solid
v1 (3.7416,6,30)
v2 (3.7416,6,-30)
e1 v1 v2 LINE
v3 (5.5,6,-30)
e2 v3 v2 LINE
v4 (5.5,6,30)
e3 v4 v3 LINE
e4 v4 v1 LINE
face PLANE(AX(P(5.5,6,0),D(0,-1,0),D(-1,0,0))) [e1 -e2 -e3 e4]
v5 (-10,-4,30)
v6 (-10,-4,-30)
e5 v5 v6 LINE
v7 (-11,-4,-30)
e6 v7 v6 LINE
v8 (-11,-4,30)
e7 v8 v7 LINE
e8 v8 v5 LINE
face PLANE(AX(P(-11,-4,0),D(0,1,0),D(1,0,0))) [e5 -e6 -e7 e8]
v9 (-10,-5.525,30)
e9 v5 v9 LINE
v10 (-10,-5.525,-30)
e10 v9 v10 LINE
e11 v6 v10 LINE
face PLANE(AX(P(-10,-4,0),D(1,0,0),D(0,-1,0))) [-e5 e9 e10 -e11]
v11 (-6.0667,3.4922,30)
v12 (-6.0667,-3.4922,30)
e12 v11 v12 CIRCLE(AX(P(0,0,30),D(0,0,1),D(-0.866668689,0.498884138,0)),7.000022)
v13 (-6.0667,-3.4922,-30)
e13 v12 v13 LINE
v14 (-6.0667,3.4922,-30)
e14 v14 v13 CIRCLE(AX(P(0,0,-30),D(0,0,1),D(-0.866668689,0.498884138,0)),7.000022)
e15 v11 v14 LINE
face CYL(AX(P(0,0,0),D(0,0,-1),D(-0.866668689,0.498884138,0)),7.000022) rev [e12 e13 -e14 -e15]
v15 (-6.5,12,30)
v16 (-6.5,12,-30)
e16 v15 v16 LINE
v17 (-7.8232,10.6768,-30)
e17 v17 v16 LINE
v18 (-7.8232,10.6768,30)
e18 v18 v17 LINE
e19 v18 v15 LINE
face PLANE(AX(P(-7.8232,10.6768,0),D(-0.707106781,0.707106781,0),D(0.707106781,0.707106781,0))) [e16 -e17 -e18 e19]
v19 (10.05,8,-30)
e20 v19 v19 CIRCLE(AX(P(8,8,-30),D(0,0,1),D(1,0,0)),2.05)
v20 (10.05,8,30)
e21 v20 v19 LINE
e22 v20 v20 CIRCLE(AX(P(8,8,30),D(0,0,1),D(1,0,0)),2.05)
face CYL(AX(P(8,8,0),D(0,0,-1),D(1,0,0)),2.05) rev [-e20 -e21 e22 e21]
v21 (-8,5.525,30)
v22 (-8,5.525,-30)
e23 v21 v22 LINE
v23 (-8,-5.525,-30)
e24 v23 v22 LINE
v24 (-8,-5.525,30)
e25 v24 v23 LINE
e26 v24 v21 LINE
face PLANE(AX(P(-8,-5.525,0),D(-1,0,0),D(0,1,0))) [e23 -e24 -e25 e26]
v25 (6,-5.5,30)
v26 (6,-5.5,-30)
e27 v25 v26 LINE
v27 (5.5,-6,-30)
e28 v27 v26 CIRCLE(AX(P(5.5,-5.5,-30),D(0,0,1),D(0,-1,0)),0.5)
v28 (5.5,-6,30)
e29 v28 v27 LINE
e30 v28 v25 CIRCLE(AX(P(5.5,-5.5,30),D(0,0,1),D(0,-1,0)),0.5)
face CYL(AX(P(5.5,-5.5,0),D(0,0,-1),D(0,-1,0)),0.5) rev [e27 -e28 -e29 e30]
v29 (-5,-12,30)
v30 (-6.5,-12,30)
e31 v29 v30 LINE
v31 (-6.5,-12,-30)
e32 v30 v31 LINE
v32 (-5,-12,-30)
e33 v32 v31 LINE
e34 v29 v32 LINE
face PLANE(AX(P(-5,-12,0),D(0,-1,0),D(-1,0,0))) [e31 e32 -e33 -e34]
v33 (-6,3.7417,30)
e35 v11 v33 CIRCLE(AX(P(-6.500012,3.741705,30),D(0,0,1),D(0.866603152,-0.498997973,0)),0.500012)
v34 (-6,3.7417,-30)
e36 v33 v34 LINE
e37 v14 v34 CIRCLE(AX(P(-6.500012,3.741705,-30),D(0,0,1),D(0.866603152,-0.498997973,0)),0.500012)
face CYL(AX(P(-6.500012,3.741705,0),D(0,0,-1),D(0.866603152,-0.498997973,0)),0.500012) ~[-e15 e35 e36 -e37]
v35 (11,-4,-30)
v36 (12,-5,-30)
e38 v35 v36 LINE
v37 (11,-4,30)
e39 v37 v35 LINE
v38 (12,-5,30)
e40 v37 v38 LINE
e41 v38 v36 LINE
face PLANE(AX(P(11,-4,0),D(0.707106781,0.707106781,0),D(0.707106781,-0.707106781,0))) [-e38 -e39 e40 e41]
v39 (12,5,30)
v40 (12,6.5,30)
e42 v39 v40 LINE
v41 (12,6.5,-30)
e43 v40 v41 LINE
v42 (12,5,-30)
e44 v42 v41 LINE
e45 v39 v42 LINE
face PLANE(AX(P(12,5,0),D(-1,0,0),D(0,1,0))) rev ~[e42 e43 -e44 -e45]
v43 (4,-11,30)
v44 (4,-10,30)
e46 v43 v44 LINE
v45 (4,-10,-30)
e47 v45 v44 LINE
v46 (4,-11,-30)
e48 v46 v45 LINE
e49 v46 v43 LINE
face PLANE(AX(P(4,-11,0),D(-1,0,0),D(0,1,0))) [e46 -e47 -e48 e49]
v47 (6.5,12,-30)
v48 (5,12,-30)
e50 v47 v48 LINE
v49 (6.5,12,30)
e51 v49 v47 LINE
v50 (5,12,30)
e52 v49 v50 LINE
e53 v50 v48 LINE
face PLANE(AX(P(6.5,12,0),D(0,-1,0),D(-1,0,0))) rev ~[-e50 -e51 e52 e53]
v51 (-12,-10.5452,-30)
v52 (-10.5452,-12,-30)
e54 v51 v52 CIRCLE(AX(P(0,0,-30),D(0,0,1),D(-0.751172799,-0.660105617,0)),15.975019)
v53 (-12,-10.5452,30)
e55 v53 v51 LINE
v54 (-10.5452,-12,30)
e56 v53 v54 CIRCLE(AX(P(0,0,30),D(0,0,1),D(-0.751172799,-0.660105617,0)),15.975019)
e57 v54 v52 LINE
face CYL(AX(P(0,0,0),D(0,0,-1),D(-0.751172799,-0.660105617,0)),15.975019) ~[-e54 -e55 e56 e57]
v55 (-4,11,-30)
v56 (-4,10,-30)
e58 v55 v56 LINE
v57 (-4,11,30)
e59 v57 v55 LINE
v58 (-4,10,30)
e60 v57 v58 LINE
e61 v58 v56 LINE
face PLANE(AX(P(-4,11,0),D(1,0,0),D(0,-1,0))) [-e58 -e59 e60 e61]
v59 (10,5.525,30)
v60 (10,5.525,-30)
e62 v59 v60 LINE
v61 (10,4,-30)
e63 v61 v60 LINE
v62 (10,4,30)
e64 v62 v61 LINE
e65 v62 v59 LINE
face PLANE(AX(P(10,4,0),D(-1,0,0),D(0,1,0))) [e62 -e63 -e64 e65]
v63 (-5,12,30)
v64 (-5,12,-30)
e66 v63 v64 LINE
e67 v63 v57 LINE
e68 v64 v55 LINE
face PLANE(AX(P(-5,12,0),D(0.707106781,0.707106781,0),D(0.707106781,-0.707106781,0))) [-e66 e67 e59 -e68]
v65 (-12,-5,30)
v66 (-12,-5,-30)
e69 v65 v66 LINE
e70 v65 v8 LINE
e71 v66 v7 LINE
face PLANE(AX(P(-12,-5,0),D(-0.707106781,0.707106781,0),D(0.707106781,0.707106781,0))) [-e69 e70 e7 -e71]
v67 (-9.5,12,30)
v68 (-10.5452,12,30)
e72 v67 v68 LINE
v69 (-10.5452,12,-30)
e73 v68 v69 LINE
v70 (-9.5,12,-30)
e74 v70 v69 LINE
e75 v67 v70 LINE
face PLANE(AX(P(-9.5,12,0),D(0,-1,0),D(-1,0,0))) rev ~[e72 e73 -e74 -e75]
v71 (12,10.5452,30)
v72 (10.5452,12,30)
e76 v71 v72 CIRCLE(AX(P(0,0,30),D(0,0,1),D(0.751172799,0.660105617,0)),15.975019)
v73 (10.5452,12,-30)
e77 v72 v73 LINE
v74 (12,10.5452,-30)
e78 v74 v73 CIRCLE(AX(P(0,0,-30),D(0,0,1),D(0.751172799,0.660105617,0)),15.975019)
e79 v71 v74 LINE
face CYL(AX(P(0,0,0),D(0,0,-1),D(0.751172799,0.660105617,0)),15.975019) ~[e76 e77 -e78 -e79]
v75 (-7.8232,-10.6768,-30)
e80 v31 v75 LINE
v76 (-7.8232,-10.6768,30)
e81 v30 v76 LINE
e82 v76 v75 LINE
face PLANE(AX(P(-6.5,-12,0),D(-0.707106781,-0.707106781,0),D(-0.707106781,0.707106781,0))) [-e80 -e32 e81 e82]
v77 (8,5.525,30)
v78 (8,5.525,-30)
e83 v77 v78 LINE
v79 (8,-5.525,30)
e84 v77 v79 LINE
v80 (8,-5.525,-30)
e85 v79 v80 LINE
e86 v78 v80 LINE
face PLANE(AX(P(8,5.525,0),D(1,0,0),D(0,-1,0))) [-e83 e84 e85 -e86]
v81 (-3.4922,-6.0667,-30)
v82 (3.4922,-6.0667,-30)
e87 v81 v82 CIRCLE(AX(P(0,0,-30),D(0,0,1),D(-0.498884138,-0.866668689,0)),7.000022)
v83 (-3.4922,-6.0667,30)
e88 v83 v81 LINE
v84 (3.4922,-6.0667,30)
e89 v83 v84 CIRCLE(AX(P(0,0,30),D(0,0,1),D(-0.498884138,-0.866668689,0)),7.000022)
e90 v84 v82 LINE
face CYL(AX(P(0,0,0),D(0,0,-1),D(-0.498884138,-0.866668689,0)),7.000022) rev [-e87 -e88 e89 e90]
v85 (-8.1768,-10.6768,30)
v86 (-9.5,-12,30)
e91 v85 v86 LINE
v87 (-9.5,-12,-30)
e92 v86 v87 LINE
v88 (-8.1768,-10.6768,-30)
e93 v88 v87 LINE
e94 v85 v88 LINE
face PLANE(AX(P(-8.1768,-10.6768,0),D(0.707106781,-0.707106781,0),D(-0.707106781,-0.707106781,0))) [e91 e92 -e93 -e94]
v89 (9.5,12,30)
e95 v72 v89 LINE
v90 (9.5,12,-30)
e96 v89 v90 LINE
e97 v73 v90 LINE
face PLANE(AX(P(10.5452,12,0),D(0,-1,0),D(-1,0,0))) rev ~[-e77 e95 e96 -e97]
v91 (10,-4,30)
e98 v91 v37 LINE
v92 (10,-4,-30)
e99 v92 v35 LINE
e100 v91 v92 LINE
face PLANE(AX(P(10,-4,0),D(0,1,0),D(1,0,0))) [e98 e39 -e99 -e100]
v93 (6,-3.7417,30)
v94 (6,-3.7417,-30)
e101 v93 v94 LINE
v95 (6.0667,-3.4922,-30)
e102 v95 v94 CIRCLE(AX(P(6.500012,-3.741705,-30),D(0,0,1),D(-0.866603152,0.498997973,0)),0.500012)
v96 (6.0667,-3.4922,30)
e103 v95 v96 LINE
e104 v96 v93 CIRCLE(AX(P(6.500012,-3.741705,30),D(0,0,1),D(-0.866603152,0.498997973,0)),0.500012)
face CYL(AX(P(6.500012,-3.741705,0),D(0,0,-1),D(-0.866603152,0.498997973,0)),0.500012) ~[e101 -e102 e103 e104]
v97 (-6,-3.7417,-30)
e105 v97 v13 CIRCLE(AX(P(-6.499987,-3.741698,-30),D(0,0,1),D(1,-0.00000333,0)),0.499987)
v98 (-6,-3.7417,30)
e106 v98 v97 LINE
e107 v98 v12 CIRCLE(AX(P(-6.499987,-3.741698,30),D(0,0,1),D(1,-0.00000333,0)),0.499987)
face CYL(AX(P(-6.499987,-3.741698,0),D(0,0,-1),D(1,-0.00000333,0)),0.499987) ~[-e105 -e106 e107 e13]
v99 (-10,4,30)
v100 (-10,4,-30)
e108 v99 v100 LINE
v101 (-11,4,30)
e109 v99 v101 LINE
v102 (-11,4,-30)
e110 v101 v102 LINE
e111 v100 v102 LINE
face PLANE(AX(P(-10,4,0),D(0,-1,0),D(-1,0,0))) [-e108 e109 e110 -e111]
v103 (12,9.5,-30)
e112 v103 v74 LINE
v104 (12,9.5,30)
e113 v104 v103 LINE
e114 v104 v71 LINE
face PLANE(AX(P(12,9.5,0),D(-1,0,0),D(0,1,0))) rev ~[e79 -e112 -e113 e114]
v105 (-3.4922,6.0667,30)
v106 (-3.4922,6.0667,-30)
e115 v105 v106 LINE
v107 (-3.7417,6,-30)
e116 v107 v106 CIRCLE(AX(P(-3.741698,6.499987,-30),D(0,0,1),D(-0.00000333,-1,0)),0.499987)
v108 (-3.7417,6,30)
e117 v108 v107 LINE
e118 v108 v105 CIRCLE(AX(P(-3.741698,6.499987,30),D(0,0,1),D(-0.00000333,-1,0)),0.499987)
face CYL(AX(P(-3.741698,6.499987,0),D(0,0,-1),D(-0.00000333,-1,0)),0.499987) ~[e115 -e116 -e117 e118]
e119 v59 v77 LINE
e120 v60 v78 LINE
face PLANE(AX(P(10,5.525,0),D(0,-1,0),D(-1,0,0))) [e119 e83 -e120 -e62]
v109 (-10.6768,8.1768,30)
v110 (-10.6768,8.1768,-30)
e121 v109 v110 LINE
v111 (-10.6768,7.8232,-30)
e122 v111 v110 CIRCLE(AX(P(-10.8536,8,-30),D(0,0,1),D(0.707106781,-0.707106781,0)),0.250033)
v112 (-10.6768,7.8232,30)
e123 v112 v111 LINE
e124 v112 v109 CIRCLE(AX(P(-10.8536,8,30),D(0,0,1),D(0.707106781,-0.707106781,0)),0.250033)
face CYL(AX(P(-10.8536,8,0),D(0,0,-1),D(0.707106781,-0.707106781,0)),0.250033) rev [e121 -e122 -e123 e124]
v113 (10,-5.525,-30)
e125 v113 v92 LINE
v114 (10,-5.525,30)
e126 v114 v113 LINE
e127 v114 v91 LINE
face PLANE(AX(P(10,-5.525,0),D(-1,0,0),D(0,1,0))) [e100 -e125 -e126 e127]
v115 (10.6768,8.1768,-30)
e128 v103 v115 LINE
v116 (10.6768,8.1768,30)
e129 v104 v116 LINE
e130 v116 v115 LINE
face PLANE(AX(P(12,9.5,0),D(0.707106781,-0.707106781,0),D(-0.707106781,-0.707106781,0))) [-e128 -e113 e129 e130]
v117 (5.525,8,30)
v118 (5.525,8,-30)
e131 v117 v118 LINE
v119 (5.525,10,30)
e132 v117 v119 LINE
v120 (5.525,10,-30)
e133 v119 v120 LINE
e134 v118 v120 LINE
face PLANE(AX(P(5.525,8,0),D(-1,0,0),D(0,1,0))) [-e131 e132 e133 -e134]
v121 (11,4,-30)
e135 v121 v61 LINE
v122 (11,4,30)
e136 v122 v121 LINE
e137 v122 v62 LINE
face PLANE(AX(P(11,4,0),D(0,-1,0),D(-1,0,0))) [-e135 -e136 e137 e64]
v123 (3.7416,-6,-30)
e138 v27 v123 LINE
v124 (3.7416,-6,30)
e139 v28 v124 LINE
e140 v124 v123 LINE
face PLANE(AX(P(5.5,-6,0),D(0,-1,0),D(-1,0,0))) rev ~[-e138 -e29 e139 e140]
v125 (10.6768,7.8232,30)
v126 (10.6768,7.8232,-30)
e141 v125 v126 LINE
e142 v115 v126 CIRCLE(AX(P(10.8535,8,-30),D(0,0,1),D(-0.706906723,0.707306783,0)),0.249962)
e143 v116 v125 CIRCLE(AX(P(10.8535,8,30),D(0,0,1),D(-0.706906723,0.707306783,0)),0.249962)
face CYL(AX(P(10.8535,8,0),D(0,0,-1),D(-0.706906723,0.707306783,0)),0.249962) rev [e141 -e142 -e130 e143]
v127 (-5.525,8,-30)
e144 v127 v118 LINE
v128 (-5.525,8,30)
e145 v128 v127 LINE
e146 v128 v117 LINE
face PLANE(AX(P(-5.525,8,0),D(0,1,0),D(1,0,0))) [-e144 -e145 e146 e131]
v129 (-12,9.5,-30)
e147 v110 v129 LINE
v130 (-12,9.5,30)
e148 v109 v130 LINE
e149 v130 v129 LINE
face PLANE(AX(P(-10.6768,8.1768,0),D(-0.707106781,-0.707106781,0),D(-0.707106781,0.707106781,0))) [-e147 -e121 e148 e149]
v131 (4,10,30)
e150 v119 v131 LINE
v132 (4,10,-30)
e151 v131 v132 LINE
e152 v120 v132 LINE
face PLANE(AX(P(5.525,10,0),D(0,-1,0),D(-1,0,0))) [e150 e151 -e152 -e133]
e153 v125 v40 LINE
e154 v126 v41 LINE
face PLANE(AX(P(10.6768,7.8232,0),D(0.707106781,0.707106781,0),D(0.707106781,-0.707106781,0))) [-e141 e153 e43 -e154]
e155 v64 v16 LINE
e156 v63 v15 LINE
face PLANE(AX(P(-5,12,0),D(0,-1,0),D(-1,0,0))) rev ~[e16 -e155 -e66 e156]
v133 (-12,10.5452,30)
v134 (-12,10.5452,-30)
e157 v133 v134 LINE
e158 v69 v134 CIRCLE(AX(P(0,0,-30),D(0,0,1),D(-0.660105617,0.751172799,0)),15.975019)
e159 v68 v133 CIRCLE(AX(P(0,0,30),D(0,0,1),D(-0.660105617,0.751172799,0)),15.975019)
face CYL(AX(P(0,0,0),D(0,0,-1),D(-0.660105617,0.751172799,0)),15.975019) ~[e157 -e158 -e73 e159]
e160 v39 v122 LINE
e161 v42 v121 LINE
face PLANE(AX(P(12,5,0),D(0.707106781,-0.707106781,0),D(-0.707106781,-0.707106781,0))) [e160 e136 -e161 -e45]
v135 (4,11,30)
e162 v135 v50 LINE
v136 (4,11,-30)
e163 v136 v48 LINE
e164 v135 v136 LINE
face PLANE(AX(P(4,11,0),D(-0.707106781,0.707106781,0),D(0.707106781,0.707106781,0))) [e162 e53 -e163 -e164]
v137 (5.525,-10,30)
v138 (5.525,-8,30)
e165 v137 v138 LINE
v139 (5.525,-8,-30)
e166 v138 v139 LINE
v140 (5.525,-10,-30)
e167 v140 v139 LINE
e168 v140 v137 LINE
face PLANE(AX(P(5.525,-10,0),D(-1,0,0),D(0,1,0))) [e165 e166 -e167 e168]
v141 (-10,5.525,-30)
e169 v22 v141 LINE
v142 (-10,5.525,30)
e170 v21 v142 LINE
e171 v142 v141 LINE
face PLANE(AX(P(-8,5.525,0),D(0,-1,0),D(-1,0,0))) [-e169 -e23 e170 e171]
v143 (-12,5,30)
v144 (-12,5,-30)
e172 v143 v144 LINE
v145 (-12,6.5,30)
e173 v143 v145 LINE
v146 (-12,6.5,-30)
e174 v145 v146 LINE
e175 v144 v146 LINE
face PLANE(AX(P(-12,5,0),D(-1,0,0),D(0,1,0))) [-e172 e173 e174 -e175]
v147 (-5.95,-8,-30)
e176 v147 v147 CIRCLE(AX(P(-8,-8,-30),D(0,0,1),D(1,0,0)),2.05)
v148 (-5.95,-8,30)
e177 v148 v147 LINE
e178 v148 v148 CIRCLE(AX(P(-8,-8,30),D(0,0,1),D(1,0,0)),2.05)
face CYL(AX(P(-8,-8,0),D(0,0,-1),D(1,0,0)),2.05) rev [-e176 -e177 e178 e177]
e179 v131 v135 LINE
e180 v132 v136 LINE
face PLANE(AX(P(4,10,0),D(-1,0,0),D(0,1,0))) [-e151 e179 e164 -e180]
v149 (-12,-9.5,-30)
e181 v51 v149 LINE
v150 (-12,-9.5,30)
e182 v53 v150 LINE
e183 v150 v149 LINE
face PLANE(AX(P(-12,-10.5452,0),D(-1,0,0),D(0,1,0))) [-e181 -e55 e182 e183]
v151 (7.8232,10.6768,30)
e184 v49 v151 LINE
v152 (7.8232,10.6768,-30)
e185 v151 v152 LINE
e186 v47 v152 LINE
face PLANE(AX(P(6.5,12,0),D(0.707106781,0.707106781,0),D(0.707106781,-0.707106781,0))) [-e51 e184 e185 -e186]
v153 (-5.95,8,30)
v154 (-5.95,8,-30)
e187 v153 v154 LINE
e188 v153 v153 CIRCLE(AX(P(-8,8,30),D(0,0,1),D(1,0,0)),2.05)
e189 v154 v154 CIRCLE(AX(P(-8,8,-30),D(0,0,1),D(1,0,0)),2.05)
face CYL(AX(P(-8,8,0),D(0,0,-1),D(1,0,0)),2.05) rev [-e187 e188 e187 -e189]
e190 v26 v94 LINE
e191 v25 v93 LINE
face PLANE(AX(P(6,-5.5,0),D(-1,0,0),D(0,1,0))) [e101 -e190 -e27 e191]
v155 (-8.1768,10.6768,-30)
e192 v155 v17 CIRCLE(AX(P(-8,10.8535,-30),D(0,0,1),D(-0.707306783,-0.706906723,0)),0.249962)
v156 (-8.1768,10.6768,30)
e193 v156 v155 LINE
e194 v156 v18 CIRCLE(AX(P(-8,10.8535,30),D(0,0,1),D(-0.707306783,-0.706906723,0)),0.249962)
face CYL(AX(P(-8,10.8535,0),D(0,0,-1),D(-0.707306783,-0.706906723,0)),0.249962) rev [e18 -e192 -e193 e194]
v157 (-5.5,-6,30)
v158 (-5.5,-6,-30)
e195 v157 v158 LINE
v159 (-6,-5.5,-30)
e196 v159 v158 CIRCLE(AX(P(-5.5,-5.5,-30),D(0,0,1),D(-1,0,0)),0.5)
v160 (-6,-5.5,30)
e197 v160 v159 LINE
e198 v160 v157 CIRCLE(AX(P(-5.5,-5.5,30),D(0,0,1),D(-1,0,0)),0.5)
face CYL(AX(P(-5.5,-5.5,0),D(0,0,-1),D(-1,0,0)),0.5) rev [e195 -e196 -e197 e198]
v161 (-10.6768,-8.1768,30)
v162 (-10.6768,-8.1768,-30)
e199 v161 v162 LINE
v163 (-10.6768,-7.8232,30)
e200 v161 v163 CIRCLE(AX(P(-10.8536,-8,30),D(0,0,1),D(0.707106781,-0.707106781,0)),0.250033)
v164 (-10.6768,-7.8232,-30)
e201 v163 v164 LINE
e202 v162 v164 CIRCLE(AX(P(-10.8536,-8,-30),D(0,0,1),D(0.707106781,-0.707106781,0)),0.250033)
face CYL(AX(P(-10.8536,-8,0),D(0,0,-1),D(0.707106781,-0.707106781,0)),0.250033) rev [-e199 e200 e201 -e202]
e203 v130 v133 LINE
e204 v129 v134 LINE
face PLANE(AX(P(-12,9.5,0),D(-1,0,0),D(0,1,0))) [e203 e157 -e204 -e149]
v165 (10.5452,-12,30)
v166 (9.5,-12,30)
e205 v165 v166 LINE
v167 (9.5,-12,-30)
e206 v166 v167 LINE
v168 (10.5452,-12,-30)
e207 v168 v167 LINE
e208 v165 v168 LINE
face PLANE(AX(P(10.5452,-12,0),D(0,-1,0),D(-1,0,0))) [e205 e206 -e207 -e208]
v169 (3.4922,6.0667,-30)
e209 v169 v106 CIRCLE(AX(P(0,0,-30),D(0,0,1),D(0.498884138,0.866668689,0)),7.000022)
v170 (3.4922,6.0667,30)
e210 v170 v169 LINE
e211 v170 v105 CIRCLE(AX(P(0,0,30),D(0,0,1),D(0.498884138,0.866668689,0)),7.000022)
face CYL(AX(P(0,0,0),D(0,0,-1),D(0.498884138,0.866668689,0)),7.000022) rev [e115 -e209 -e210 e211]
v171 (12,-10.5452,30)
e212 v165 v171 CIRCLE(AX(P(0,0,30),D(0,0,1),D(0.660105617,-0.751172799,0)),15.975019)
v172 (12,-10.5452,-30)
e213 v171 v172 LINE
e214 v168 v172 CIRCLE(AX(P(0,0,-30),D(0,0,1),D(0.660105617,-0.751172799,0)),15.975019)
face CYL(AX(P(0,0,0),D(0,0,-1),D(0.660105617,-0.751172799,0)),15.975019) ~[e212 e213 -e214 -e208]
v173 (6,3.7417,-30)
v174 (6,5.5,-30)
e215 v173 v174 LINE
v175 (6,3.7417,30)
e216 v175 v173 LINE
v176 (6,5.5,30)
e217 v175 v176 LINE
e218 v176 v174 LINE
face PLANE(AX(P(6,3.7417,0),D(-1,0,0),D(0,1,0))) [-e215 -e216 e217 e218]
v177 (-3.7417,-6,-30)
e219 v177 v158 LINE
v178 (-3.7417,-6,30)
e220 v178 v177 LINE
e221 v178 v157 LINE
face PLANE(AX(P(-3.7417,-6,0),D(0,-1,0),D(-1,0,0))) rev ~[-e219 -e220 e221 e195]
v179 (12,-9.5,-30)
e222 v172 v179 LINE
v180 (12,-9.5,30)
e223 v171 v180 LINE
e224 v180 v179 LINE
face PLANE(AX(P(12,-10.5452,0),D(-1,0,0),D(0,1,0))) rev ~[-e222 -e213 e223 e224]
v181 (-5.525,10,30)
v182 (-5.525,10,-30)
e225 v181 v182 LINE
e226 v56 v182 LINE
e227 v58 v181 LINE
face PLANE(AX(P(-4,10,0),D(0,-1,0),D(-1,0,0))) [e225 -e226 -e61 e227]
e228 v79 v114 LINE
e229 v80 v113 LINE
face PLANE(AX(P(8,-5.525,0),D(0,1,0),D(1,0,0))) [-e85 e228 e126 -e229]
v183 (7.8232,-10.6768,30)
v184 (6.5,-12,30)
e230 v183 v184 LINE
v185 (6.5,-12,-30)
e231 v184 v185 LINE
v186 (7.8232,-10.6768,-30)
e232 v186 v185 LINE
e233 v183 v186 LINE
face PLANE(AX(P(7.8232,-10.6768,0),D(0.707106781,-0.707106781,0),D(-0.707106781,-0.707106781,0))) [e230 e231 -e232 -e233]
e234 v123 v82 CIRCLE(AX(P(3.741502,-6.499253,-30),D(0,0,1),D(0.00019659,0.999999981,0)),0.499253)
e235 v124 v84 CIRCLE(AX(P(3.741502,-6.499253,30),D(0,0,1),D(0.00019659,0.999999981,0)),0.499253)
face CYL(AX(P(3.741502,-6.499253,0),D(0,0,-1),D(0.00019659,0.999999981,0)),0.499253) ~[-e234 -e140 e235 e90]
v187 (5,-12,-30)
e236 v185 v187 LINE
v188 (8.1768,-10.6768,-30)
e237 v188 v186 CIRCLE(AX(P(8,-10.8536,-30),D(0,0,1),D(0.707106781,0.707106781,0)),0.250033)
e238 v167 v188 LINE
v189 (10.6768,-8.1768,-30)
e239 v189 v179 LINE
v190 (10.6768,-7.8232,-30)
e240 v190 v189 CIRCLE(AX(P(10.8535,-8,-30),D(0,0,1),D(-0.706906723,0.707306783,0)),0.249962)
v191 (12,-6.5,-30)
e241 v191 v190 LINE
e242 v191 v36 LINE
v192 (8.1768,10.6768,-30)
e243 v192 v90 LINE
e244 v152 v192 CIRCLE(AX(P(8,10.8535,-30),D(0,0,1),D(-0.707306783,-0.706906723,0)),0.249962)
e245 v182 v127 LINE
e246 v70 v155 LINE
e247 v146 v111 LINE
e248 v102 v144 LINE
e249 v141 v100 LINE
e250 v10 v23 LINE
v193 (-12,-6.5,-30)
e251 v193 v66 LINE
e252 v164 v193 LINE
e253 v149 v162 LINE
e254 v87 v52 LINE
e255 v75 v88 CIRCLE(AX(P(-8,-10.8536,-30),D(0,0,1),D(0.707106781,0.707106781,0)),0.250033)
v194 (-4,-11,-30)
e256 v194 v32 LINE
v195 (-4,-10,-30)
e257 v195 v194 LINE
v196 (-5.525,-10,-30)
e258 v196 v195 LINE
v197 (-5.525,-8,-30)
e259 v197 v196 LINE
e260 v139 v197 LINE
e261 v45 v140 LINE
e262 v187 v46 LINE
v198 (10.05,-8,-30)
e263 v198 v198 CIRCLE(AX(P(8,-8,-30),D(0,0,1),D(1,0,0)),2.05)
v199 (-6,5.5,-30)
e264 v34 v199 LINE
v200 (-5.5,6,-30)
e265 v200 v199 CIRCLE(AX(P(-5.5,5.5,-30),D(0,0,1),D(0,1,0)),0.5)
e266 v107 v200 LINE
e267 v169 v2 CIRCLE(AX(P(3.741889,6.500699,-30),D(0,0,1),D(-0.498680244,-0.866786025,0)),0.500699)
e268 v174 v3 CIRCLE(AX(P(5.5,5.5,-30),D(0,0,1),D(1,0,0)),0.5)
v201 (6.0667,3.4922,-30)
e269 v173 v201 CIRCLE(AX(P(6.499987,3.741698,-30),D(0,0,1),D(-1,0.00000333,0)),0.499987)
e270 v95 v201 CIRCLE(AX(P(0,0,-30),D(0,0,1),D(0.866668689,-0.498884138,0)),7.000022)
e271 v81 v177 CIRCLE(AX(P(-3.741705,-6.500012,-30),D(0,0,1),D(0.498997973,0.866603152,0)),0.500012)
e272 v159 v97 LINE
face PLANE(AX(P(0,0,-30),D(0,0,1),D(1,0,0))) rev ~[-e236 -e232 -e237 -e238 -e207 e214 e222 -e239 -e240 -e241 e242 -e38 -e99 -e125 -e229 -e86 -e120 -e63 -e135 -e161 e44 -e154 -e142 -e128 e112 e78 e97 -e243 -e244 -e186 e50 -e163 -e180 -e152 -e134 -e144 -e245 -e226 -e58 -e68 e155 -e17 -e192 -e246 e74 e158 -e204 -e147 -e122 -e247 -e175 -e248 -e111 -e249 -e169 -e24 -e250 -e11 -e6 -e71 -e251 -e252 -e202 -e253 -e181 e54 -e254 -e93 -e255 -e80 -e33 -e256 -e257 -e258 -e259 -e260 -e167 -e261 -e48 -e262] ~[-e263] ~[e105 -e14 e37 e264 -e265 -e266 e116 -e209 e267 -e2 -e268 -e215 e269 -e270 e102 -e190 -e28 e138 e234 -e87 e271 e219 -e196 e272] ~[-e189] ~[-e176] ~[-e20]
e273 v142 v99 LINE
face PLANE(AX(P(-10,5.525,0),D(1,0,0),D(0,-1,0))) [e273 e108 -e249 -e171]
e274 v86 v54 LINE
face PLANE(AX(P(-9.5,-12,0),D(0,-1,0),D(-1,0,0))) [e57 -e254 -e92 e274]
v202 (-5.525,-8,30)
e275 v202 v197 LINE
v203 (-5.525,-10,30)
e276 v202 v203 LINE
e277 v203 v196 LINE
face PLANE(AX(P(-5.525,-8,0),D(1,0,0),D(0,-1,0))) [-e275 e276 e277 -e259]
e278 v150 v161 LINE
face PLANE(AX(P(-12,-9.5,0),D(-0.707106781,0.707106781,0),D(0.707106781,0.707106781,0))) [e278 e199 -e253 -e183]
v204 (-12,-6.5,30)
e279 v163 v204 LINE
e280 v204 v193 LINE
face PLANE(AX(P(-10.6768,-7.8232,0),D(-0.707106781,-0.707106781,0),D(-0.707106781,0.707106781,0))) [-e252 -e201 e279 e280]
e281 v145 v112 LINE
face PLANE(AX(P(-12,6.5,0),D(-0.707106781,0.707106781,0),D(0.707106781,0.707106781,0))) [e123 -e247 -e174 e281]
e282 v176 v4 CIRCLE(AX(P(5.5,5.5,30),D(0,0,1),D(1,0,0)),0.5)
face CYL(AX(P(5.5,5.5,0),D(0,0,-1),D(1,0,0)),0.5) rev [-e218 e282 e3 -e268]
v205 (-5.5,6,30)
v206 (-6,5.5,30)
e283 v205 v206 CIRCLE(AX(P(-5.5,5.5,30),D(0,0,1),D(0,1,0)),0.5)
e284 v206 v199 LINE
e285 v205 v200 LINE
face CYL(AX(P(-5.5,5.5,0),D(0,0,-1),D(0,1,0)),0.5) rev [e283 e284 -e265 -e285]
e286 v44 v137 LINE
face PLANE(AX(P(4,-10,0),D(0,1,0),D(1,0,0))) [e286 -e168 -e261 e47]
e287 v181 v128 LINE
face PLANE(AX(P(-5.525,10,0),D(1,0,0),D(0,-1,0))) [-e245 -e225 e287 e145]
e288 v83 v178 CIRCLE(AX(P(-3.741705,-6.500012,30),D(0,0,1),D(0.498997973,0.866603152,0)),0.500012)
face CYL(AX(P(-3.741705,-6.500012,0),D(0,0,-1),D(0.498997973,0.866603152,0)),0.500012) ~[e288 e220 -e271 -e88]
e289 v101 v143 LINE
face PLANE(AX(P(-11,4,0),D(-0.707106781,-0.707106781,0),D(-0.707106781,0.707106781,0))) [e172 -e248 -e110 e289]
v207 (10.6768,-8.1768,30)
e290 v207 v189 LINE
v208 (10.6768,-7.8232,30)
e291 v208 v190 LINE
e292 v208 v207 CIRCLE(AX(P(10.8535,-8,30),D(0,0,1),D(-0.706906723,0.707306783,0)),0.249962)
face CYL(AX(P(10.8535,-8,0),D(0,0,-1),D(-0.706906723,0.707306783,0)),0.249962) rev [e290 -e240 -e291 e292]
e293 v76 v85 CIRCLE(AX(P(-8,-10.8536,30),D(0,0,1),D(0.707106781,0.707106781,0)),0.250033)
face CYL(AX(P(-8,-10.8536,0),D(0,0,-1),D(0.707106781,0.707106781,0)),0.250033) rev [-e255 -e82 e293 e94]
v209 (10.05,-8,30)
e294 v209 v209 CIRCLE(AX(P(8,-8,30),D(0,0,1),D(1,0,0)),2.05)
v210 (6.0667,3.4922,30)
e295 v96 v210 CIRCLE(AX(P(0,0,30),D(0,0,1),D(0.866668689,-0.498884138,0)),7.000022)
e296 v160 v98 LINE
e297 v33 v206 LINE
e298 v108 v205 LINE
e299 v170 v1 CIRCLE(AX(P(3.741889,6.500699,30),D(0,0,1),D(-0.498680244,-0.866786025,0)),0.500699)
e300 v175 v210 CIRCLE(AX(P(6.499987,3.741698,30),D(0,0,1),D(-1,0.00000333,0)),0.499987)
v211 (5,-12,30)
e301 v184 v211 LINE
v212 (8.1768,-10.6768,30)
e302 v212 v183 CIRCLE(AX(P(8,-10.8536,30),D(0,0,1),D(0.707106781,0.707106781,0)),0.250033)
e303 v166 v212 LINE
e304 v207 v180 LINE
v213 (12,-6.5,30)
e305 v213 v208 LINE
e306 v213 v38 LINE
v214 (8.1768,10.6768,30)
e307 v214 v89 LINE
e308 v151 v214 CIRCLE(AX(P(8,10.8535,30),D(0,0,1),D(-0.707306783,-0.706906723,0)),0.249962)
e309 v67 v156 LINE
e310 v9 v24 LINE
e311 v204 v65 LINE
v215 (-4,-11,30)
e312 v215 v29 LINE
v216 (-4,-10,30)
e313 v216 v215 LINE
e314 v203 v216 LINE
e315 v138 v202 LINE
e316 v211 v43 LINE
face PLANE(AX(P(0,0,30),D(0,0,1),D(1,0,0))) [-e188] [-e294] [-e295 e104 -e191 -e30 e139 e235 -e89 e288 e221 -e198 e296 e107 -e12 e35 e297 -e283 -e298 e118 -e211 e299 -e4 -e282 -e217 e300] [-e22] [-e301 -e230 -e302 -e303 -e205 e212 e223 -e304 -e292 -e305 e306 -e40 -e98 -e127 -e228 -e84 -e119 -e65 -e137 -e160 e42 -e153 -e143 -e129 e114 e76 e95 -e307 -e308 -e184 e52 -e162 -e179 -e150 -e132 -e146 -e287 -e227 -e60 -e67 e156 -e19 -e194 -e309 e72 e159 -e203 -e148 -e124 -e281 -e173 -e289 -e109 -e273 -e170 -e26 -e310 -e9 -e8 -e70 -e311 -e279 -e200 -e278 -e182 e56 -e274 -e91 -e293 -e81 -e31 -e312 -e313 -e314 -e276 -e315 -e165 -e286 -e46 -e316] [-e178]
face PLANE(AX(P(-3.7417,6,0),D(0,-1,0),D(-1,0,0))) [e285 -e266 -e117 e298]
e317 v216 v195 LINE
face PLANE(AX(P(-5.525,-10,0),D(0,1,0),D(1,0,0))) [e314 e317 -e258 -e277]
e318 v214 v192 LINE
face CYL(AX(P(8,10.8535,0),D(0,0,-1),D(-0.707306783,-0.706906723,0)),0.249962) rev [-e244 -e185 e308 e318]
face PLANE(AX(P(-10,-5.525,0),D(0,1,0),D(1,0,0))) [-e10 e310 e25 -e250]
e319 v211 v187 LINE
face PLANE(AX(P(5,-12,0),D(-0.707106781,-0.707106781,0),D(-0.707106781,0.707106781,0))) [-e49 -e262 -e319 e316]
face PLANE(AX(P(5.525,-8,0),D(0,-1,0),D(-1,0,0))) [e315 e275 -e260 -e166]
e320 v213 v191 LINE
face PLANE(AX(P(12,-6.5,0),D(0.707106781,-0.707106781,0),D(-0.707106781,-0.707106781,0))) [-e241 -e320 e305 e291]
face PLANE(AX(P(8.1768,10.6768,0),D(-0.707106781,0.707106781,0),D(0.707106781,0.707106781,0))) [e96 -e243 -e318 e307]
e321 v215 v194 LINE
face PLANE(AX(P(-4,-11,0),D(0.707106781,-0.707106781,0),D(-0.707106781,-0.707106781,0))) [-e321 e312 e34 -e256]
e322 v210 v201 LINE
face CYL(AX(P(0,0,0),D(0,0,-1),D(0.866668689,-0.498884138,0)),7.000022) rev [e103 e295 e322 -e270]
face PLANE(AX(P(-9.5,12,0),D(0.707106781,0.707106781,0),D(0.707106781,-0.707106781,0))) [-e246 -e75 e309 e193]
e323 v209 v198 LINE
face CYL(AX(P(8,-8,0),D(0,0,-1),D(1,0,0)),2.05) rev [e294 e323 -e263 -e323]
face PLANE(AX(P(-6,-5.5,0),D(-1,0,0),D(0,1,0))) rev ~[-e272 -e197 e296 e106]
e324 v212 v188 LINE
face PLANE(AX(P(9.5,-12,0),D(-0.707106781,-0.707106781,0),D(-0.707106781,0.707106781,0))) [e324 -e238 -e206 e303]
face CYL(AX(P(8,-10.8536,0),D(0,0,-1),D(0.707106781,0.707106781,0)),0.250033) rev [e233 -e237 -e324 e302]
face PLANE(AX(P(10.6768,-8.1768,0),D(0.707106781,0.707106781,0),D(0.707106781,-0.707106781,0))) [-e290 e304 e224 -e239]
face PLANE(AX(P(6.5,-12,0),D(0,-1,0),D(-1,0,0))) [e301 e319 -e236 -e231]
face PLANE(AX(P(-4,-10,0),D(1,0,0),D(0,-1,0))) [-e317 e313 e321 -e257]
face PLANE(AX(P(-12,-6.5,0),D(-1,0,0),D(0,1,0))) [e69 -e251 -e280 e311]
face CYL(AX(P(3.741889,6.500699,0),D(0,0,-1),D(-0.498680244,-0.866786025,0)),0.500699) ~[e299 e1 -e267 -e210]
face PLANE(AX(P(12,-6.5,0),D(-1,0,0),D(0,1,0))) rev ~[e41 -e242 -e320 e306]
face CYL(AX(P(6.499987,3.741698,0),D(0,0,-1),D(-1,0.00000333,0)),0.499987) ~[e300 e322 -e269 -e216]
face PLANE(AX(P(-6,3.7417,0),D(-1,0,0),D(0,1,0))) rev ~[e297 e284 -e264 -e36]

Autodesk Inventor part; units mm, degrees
ref_plane "YZ Plane" through (0, 0, 0) normal (1, 0, 0) x (0, 1, 0)
ref_plane "XZ Plane" through (0, 0, 0) normal (0, 1, 0) x (-1, 0, 0)
ref_plane "XY Plane" through (0, 0, 0) normal (0, 0, 1) x (1, 0, 0)
sketch "Sketch1" plane through (0, 0, 0) normal (0, 0, 1) x (1, 0, 0)
  line L0 (5.525, -10) -> (5.525, -8)
  line L1 (4, -10) -> (5.525, -10)
  line L2 (4, -11) -> (4, -10)
  line L3 (5, -12) -> (4, -11)
  line L4 (6.5, -12) -> (5, -12)
  line L5 (7.8232, -10.6768) -> (6.5, -12)
  arc A0 (8.1768, -10.6768) -> (7.8232, -10.6768) centre (8, -10.8536) ccw
  line L6 (9.5, -12) -> (8.1768, -10.6768)
  line L7 (10.5452, -12) -> (9.5, -12)
  arc A1 (10.5452, -12) -> (12, -10.5452) centre (0, 0) ccw
  line L8 (12, -10.5452) -> (12, -9.5)
  line L9 (10.6768, -8.1768) -> (12, -9.5)
  arc A2 (10.6768, -7.8232) -> (10.6768, -8.1768) centre (10.8535, -8) ccw
  line L10 (12, -6.5) -> (10.6768, -7.8232)
  line L11 (12, -6.5) -> (12, -5)
  line L12 (11, -4) -> (12, -5)
  line L13 (10, -4) -> (11, -4)
  line L14 (10, -5.525) -> (10, -4)
  line L15 (8, -5.525) -> (10, -5.525)
  line L16 (8, 5.525) -> (8, -5.525)
  line L17 (10, 5.525) -> (8, 5.525)
  line L18 (10, 4) -> (10, 5.525)
  line L19 (11, 4) -> (10, 4)
  line L20 (12, 5) -> (11, 4)
  line L21 (12, 5) -> (12, 6.5)
  line L22 (10.6768, 7.8232) -> (12, 6.5)
  arc A3 (10.6768, 8.1768) -> (10.6768, 7.8232) centre (10.8535, 8) ccw
  line L23 (12, 9.5) -> (10.6768, 8.1768)
  line L24 (12, 9.5) -> (12, 10.5452)
  arc A4 (12, 10.5452) -> (10.5452, 12) centre (0, 0) ccw
  line L25 (10.5452, 12) -> (9.5, 12)
  line L26 (8.1768, 10.6768) -> (9.5, 12)
  arc A5 (7.8232, 10.6768) -> (8.1768, 10.6768) centre (8, 10.8535) ccw
  line L27 (6.5, 12) -> (7.8232, 10.6768)
  line L28 (6.5, 12) -> (5, 12)
  line L29 (4, 11) -> (5, 12)
  line L30 (4, 10) -> (4, 11)
  line L31 (5.525, 10) -> (4, 10)
  line L32 (5.525, 8) -> (5.525, 10)
  line L33 (-5.525, 8) -> (5.525, 8)
  line L34 (-5.525, 10) -> (-5.525, 8)
  line L35 (-4, 10) -> (-5.525, 10)
  line L36 (-4, 11) -> (-4, 10)
  line L37 (-5, 12) -> (-4, 11)
  line L38 (-5, 12) -> (-6.5, 12)
  line L39 (-7.8232, 10.6768) -> (-6.5, 12)
  arc A6 (-8.1768, 10.6768) -> (-7.8232, 10.6768) centre (-8, 10.8535) ccw
  line L40 (-9.5, 12) -> (-8.1768, 10.6768)
  line L41 (-9.5, 12) -> (-10.5452, 12)
  arc A7 (-10.5452, 12) -> (-12, 10.5452) centre (0, 0) ccw
  line L42 (-12, 9.5) -> (-12, 10.5452)
  line L43 (-10.6768, 8.1768) -> (-12, 9.5)
  arc A8 (-10.6768, 7.8232) -> (-10.6768, 8.1768) centre (-10.8536, 8) ccw
  line L44 (-12, 6.5) -> (-10.6768, 7.8232)
  line L45 (-12, 5) -> (-12, 6.5)
  line L46 (-11, 4) -> (-12, 5)
  line L47 (-10, 4) -> (-11, 4)
  line L48 (-10, 5.525) -> (-10, 4)
  line L49 (-8, 5.525) -> (-10, 5.525)
  line L50 (-8, -5.525) -> (-8, 5.525)
  line L51 (-10, -5.525) -> (-8, -5.525)
  line L52 (-10, -4) -> (-10, -5.525)
  line L53 (-11, -4) -> (-10, -4)
  line L54 (-12, -5) -> (-11, -4)
  line L55 (-12, -6.5) -> (-12, -5)
  line L56 (-10.6768, -7.8232) -> (-12, -6.5)
  arc A9 (-10.6768, -8.1768) -> (-10.6768, -7.8232) centre (-10.8536, -8) ccw
  line L57 (-12, -9.5) -> (-10.6768, -8.1768)
  line L58 (-12, -10.5452) -> (-12, -9.5)
  arc A10 (-12, -10.5452) -> (-10.5452, -12) centre (0, 0) ccw
  line L59 (-9.5, -12) -> (-10.5452, -12)
  line L60 (-8.1768, -10.6768) -> (-9.5, -12)
  arc A11 (-7.8232, -10.6768) -> (-8.1768, -10.6768) centre (-8, -10.8536) ccw
  line L61 (-6.5, -12) -> (-7.8232, -10.6768)
  line L62 (-5, -12) -> (-6.5, -12)
  line L63 (-4, -11) -> (-5, -12)
  line L64 (-4, -10) -> (-4, -11)
  line L65 (-5.525, -10) -> (-4, -10)
  line L66 (-5.525, -8) -> (-5.525, -10)
  line L67 (5.525, -8) -> (-5.525, -8)
  arc A12 (6.0667, -3.4922) -> (6.0667, 3.4922) centre (0, 0) ccw
  arc A13 (6.0667, -3.4922) -> (6, -3.7417) centre (6.5, -3.7417) ccw
  line L68 (6, -5.5) -> (6, -3.7417)
  arc A14 (5.5, -6) -> (6, -5.5) centre (5.5, -5.5) ccw
  line L69 (5.5, -6) -> (3.7416, -6)
  arc A15 (3.7416, -6) -> (3.4922, -6.0667) centre (3.7416, -6.5) ccw
  arc A16 (-3.4922, -6.0667) -> (3.4922, -6.0667) centre (0, 0) ccw
  arc A17 (-3.4922, -6.0667) -> (-3.7417, -6) centre (-3.7417, -6.5) ccw
  line L70 (-3.7417, -6) -> (-5.5, -6)
  arc A18 (-6, -5.5) -> (-5.5, -6) centre (-5.5, -5.5) ccw
  line L71 (-6, -5.5) -> (-6, -3.7417)
  arc A19 (-6, -3.7417) -> (-6.0667, -3.4922) centre (-6.5, -3.7417) ccw
  arc A20 (-6.0667, 3.4922) -> (-6.0667, -3.4922) centre (0, 0) ccw
  arc A21 (-6.0667, 3.4922) -> (-6, 3.7417) centre (-6.5, 3.7417) ccw
  line L72 (-6, 3.7417) -> (-6, 5.5)
  arc A22 (-5.5, 6) -> (-6, 5.5) centre (-5.5, 5.5) ccw
  line L73 (-3.7417, 6) -> (-5.5, 6)
  arc A23 (-3.7417, 6) -> (-3.4922, 6.0667) centre (-3.7417, 6.5) ccw
  arc A24 (3.4922, 6.0667) -> (-3.4922, 6.0667) centre (0, 0) ccw
  arc A25 (3.4922, 6.0667) -> (3.7416, 6) centre (3.7416, 6.5) ccw
  line L74 (5.5, 6) -> (3.7416, 6)
  arc A26 (6, 5.5) -> (5.5, 6) centre (5.5, 5.5) ccw
  line L75 (6, 3.7417) -> (6, 5.5)
  arc A27 (6, 3.7417) -> (6.0667, 3.4922) centre (6.5, 3.7417) ccw
  circle A28 centre (-8, -8) radius 2.05
  circle A29 centre (8, -8) radius 2.05
  circle A30 centre (8, 8) radius 2.05
  circle A31 centre (-8, 8) radius 2.05
  point P0 (0, 0)
  point P1 (0, 0)
extrude "Extrusion1" add sketch "Sketch1" along normal mid plane 60
properties part number "1109-0024-0060"
